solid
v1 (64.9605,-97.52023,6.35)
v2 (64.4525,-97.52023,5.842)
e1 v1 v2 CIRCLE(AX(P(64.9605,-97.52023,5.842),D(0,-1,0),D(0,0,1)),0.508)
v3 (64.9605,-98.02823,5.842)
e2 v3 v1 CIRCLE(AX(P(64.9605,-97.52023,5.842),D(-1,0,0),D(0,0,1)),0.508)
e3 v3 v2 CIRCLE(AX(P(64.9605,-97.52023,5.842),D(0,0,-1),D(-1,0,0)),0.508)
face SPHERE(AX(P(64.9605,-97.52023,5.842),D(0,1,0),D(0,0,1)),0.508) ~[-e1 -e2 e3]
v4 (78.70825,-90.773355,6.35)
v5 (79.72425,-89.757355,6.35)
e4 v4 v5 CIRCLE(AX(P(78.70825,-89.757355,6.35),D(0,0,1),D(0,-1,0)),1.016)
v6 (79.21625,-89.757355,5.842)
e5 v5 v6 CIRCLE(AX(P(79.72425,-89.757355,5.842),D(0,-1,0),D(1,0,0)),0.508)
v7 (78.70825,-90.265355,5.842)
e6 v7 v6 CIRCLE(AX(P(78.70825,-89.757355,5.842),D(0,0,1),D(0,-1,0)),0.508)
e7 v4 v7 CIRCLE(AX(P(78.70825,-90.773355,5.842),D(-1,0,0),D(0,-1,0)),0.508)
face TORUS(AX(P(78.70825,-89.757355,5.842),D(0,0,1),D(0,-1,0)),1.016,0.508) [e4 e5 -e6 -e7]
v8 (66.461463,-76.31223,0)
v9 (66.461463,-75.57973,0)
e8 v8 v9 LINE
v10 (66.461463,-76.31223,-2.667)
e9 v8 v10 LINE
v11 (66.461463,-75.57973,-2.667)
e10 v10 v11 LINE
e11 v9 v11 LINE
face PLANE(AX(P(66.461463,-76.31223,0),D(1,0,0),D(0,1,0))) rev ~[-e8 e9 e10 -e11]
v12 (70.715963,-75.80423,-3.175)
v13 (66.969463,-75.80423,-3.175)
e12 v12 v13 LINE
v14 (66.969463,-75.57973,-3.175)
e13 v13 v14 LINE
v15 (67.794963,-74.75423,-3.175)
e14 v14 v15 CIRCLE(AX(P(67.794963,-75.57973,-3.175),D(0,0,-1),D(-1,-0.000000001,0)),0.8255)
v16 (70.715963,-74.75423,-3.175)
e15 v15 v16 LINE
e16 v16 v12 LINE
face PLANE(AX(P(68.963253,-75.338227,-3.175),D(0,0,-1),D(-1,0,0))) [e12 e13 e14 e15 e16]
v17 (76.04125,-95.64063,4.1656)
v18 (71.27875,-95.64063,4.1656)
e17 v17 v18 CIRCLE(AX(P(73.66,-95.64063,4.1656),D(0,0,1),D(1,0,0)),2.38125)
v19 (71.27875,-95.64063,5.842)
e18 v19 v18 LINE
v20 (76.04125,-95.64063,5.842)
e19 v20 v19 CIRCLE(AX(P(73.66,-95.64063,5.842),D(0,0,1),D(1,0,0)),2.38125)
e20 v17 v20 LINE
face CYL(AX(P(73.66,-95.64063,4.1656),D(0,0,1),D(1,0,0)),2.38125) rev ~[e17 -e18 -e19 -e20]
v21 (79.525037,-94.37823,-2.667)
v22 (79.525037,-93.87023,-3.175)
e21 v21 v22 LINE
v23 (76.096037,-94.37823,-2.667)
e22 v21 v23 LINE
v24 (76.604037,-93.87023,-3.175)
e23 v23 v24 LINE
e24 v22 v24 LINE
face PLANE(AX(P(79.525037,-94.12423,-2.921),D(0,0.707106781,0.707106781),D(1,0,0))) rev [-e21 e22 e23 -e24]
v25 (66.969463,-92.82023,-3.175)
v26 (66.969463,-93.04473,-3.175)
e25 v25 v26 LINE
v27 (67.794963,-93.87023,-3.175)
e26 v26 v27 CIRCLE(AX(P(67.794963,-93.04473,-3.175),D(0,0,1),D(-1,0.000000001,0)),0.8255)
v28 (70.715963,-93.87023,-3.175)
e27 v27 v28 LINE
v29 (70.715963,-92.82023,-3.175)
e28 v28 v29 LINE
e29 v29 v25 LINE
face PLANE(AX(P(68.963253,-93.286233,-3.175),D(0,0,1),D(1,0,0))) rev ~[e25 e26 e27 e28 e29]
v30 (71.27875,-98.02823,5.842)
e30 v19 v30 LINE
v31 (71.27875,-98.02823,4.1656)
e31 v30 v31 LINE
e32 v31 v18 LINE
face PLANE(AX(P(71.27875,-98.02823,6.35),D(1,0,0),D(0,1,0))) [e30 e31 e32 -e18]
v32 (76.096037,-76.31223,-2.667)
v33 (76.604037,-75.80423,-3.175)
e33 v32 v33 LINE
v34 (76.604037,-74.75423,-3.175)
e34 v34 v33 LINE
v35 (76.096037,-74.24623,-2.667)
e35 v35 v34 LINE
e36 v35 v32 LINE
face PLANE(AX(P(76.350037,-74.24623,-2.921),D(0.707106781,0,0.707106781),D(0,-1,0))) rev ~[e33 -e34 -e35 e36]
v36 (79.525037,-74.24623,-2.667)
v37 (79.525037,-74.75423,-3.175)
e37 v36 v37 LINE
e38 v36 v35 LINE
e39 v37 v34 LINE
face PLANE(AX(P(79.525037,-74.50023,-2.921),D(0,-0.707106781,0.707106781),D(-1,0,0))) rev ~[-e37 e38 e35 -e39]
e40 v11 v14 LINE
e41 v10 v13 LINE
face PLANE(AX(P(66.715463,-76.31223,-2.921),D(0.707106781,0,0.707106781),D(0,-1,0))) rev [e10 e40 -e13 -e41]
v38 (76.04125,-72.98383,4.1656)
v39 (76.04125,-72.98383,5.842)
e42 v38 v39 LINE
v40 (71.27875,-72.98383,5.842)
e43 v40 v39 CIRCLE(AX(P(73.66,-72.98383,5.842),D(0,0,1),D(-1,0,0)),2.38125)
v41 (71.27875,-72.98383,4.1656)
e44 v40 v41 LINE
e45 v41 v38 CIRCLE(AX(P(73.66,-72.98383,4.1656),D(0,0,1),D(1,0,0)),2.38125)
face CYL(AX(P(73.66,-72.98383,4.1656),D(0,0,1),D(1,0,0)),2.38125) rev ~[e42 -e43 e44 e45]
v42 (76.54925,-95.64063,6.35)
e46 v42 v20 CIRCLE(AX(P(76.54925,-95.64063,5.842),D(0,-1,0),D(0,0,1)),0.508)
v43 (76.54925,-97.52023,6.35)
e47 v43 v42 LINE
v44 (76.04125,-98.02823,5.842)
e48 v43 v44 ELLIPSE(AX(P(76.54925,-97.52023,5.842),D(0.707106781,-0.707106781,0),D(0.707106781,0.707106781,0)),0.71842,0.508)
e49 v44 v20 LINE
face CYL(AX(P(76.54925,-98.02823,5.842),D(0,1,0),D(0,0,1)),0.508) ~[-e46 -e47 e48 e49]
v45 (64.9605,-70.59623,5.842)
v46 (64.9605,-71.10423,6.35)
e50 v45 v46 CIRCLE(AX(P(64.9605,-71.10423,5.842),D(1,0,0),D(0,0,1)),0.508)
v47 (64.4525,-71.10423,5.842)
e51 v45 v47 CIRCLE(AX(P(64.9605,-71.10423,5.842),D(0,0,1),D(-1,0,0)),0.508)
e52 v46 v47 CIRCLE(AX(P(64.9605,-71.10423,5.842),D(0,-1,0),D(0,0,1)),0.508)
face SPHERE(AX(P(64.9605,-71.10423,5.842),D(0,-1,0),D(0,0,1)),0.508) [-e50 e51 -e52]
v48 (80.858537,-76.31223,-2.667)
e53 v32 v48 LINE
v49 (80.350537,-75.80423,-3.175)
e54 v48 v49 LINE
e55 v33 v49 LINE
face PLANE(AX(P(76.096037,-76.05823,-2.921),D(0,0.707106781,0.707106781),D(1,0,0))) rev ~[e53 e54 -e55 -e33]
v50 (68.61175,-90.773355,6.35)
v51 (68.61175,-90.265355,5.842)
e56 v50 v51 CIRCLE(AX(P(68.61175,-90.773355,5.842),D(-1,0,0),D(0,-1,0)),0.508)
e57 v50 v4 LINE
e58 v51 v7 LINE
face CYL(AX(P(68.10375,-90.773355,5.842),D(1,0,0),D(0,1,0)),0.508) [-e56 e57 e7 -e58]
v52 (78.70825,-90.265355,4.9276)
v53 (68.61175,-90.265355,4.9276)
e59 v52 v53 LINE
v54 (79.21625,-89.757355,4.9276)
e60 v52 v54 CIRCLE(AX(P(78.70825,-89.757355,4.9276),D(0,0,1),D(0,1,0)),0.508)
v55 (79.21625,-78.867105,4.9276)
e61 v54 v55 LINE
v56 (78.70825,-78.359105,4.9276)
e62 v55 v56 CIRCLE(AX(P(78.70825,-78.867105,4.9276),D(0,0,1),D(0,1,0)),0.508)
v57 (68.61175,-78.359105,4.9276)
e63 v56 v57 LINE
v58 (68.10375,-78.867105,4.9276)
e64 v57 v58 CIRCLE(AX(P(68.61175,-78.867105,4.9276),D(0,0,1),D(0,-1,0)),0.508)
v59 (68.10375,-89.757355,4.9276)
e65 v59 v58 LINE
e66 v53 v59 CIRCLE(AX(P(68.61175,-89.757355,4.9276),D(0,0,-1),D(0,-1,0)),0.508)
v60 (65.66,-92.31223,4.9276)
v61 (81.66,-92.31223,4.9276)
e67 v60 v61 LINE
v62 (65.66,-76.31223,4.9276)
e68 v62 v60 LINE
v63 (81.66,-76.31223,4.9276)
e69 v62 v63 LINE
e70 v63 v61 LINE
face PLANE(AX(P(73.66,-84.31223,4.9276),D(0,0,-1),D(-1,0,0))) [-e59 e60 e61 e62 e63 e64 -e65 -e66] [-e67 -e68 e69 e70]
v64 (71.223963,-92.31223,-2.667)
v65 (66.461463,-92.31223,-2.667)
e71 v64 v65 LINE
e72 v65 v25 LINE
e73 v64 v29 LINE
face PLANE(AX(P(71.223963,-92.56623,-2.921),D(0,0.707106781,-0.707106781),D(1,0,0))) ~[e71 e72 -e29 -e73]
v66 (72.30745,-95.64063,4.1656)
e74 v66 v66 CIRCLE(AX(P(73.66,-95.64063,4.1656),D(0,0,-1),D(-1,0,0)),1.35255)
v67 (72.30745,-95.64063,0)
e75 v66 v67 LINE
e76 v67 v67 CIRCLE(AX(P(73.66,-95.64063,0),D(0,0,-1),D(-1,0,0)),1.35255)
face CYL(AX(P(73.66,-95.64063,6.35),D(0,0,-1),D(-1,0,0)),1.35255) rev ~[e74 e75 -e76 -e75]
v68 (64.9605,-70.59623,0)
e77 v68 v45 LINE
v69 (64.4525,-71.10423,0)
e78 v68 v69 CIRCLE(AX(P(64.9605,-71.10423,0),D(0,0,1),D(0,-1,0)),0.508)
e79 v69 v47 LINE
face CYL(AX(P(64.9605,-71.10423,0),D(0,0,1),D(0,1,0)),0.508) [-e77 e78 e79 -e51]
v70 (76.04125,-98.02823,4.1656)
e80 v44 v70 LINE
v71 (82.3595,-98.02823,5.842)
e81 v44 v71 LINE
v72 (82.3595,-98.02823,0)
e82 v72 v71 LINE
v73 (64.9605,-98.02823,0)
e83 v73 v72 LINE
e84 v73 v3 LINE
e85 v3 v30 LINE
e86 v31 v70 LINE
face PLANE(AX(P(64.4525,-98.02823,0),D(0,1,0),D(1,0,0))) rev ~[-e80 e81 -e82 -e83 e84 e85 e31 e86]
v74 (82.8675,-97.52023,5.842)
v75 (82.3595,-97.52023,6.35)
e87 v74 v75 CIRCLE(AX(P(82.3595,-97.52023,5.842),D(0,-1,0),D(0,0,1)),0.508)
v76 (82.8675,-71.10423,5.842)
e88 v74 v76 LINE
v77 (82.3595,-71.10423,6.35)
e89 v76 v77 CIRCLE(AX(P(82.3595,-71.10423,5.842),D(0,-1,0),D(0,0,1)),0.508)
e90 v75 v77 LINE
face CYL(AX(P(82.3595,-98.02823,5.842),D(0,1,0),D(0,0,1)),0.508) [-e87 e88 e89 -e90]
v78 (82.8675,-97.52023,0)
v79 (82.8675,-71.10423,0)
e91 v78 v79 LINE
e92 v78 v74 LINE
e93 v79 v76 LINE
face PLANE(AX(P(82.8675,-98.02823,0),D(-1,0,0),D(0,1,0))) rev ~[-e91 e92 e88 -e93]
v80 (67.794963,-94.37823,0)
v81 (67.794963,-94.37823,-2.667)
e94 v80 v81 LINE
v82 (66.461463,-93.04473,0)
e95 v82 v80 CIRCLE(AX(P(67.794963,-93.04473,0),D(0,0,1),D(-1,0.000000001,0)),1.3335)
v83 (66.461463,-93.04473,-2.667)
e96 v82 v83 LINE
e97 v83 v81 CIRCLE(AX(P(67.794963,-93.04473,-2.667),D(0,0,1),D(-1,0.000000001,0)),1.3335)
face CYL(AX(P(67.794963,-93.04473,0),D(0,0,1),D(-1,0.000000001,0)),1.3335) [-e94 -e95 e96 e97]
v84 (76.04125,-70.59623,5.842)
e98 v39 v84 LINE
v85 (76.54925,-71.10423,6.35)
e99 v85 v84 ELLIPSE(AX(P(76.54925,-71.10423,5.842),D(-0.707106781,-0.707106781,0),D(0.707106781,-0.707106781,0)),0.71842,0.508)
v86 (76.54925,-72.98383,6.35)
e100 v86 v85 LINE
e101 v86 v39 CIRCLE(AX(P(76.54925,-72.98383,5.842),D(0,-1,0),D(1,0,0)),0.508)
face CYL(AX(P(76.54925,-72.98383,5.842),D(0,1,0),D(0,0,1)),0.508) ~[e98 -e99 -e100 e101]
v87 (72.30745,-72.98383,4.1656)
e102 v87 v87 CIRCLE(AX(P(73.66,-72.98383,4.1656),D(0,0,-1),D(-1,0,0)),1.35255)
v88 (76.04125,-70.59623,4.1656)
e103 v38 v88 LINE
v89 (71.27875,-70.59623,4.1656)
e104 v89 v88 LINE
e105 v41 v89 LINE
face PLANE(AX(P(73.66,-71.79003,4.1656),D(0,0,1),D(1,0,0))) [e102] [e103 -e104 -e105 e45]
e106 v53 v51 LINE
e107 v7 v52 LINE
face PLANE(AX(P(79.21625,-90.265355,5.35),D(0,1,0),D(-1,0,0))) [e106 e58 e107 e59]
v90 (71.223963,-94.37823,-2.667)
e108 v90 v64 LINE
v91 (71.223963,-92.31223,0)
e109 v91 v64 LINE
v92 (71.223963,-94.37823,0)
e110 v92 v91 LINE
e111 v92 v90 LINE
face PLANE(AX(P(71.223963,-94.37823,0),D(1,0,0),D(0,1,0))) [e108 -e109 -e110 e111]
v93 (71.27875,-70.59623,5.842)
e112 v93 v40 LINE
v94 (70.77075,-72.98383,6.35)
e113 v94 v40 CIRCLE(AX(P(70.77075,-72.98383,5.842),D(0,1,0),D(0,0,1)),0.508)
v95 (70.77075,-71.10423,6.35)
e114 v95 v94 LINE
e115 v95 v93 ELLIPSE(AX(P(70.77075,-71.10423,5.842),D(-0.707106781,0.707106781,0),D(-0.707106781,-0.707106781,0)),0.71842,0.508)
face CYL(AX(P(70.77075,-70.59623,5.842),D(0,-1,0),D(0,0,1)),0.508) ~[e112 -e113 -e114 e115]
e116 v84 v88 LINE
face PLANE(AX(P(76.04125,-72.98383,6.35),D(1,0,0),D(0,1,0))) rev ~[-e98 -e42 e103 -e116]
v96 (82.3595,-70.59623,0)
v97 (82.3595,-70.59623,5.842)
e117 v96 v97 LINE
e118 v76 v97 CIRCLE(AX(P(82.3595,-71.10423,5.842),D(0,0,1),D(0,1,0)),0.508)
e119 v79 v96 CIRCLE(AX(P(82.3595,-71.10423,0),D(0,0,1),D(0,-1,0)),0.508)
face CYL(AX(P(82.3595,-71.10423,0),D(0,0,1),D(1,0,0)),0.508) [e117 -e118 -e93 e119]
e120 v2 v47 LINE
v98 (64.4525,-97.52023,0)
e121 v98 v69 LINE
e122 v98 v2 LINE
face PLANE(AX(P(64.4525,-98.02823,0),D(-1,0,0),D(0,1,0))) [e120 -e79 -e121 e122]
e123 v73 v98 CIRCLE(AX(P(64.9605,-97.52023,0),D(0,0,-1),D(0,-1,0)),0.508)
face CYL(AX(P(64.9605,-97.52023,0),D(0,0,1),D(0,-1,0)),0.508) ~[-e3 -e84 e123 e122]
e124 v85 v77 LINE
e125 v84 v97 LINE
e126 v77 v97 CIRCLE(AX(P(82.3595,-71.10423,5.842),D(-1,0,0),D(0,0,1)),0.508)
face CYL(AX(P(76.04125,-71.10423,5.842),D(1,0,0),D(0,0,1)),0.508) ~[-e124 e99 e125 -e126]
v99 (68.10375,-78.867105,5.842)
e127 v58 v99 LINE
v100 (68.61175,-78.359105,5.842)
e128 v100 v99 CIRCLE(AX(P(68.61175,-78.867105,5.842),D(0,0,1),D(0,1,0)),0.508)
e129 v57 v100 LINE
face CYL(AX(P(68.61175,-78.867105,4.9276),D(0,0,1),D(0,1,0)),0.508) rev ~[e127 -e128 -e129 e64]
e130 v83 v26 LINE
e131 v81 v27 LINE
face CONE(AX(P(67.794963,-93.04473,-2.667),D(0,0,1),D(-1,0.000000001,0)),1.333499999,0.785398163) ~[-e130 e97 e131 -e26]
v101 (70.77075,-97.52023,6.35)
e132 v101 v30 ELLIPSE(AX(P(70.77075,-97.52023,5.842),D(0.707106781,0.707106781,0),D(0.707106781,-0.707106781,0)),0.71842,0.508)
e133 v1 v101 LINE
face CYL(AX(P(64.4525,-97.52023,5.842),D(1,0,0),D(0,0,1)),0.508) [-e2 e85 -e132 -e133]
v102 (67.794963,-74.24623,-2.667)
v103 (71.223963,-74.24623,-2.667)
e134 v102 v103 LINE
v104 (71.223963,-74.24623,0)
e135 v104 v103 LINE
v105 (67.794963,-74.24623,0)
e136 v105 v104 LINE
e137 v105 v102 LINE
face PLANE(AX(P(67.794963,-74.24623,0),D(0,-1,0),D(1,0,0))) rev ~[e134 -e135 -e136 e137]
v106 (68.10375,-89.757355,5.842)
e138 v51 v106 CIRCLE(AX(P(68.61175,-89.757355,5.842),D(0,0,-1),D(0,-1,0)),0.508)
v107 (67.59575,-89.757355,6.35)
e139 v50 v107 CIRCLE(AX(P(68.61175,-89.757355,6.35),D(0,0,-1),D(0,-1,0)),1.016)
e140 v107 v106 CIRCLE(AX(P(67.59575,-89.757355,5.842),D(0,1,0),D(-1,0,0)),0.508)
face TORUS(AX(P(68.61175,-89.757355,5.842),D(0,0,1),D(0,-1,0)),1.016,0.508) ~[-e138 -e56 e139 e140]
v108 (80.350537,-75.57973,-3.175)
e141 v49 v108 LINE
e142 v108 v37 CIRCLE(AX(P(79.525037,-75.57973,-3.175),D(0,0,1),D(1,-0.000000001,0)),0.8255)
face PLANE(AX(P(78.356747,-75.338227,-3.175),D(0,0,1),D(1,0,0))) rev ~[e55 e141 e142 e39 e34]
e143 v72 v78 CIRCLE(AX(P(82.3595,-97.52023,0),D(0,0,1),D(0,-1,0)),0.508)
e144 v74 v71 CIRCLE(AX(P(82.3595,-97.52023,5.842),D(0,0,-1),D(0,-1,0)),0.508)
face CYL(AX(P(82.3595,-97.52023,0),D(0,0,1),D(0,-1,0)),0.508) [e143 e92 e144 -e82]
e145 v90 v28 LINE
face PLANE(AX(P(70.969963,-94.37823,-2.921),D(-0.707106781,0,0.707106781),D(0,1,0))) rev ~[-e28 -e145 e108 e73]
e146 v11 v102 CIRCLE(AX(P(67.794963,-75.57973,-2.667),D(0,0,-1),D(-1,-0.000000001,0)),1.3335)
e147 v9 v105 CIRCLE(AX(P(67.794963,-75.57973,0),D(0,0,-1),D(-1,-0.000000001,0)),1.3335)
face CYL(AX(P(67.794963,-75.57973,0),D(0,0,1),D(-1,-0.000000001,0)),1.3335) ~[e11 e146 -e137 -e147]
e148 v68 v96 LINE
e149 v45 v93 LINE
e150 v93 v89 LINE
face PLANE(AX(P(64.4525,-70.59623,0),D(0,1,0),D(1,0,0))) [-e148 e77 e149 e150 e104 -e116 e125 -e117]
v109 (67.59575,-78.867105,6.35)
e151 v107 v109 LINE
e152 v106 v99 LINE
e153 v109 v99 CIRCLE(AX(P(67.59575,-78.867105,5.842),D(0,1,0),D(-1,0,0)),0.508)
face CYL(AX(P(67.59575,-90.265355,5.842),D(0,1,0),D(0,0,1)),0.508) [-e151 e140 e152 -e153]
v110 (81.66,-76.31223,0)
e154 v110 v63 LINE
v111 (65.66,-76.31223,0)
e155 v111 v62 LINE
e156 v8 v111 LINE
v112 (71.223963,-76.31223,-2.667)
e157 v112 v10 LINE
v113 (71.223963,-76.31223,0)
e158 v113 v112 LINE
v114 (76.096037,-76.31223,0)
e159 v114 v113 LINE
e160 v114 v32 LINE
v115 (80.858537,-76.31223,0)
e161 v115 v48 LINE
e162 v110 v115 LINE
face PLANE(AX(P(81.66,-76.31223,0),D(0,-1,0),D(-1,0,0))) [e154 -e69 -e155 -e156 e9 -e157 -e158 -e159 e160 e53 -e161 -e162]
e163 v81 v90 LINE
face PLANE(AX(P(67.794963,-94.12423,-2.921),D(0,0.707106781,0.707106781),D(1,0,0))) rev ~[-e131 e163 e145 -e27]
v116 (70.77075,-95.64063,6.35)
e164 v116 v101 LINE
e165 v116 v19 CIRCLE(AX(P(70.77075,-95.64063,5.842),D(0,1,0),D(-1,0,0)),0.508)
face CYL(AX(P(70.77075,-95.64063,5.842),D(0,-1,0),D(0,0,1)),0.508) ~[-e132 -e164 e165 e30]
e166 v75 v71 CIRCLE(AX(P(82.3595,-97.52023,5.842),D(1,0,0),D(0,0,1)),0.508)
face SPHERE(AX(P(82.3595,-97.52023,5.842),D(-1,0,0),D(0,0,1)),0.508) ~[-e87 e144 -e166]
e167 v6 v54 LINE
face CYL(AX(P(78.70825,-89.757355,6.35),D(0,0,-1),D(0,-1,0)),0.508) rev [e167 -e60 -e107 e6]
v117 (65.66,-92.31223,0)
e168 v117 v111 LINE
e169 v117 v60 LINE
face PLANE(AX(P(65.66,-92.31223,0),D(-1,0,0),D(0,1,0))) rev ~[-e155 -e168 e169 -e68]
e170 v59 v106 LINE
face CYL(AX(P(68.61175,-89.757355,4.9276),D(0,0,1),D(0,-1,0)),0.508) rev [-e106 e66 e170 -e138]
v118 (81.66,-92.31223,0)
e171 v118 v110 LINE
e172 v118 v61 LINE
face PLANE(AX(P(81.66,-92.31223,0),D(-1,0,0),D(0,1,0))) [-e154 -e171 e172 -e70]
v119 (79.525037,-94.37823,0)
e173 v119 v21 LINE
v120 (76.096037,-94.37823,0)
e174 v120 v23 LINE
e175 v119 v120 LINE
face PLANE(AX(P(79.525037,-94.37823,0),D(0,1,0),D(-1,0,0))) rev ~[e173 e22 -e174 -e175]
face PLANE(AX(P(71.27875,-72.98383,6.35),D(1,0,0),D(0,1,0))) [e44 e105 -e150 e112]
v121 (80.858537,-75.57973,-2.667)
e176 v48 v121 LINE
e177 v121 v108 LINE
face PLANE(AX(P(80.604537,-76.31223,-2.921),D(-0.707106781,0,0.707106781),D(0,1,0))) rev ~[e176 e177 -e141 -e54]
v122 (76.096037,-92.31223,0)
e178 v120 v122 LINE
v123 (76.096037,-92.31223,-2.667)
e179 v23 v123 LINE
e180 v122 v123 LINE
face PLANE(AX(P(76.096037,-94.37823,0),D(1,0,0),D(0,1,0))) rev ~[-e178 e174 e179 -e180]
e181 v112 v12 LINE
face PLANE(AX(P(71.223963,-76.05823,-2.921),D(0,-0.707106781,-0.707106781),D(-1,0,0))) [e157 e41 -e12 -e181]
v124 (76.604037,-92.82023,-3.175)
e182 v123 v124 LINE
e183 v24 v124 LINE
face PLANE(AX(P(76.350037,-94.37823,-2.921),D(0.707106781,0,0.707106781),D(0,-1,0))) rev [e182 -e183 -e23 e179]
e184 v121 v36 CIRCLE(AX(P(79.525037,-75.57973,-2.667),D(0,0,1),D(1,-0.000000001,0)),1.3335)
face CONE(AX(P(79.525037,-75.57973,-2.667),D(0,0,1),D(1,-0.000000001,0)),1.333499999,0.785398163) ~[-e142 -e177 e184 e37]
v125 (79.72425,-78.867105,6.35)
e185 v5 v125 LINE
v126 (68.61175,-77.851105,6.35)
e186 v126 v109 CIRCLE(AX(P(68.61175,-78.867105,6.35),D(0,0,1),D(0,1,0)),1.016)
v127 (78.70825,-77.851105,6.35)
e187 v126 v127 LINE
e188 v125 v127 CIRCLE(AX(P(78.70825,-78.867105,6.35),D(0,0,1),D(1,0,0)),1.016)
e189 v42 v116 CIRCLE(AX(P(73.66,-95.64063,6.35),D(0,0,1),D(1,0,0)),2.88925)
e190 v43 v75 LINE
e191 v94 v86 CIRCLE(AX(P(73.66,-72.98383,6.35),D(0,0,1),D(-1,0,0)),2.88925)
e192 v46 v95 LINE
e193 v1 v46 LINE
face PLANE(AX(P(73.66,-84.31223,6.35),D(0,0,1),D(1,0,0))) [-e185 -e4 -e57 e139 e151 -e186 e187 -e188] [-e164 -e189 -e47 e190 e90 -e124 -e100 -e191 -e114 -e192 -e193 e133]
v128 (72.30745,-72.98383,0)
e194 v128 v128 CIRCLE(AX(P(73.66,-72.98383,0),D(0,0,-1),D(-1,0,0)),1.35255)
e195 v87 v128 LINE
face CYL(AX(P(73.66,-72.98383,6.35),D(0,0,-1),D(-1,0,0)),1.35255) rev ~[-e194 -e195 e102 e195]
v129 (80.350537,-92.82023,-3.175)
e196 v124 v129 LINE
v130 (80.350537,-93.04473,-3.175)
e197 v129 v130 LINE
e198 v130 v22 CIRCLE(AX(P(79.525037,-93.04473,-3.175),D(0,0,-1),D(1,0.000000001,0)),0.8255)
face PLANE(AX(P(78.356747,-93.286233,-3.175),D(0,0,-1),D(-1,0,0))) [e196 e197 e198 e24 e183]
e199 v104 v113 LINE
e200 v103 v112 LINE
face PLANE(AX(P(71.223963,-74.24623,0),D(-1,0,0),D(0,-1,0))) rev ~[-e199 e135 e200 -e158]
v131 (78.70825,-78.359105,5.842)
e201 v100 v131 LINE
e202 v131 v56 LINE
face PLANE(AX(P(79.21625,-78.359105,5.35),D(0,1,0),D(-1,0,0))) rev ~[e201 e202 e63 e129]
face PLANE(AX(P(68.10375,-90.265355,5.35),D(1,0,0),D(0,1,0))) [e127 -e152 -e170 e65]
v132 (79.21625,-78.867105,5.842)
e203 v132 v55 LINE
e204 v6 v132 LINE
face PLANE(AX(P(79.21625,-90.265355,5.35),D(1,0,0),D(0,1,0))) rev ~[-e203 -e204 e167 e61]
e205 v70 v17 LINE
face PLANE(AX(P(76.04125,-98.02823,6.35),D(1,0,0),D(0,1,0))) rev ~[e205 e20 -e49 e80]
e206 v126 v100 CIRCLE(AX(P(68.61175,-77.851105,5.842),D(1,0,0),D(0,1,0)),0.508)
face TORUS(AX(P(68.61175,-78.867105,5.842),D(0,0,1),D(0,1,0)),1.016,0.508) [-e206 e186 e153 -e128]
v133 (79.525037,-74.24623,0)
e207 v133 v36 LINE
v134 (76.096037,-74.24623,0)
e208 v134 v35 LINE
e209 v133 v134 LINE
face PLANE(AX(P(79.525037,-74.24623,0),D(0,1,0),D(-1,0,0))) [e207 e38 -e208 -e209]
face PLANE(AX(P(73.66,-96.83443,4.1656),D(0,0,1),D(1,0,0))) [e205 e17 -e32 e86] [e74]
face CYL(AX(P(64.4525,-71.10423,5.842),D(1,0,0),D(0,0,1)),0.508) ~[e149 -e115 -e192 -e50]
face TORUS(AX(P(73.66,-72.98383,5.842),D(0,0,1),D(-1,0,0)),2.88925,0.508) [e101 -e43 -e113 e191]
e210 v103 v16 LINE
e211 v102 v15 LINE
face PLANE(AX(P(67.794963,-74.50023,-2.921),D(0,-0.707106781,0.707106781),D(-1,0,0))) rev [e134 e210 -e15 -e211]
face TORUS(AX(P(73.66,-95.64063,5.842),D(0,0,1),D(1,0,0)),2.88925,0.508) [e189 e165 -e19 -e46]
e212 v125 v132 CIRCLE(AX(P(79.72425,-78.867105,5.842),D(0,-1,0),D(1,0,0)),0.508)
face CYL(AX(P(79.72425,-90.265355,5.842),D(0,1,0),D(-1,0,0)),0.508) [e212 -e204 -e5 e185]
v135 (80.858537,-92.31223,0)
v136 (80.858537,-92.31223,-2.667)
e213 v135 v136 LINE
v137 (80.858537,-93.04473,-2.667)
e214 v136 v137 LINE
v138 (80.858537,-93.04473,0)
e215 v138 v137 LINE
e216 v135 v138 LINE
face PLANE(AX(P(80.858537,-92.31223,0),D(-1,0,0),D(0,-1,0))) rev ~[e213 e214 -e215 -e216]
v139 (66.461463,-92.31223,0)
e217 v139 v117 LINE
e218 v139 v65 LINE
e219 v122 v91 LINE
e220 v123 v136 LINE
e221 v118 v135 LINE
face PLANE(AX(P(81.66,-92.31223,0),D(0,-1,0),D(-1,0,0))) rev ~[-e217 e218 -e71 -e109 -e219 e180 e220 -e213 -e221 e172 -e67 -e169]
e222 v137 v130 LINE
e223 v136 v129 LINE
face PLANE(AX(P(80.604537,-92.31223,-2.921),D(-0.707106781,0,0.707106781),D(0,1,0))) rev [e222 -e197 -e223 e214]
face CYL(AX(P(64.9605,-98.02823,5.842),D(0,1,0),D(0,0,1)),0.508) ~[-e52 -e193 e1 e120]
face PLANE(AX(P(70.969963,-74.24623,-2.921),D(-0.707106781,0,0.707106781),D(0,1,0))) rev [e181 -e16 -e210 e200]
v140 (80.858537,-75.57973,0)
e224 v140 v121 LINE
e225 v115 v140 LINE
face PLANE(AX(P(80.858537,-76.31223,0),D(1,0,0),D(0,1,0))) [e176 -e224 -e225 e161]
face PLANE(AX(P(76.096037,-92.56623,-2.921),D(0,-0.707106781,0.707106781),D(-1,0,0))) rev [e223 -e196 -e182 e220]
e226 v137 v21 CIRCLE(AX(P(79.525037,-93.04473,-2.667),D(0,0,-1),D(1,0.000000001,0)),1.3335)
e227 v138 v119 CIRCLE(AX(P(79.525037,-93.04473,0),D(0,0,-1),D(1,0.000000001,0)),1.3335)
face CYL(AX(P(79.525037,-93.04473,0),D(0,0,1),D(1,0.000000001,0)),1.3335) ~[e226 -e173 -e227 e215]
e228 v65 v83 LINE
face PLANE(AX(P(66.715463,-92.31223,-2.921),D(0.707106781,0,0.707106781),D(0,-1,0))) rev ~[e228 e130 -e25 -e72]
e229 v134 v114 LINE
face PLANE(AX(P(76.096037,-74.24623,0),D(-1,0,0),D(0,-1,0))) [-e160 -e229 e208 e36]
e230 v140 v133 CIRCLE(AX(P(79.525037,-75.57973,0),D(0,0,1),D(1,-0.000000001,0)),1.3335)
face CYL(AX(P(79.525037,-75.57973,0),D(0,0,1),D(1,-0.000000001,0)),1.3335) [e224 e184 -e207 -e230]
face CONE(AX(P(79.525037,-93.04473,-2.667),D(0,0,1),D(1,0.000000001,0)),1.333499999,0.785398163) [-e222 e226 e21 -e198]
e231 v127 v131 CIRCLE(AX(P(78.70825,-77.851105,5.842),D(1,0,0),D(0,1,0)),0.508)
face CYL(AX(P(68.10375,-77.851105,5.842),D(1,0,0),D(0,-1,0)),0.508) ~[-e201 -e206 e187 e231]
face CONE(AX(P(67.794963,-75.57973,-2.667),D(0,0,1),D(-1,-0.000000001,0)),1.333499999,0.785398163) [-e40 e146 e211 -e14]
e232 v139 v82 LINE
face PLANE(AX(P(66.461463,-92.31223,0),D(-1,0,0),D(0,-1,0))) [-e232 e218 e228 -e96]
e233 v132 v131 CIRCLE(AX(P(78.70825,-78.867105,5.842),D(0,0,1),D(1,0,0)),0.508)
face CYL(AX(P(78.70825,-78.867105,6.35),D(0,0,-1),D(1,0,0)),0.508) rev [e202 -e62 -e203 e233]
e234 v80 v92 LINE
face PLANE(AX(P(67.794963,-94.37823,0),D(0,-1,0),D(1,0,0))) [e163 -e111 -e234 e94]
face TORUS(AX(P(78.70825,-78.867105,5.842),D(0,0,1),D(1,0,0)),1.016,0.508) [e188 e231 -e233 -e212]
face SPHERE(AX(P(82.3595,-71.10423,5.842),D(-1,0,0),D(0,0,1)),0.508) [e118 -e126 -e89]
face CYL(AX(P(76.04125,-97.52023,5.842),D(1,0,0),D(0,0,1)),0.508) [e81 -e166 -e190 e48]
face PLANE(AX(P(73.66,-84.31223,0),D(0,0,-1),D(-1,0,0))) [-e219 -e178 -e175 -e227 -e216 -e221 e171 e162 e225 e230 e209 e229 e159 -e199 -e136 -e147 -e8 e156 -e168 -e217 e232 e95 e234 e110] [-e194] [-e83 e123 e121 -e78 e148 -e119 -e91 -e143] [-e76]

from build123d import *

# Parameters (mm, degrees)
SKETCH1_W                                      = 18.415
SKETCH1_H                                      = 27.432
BOSS_EXTRUDE1_DEPTH                            = 6.35
SKETCH2_W                                      = 11.1125
SKETCH2_H                                      = 11.90625
CUT_EXTRUDE1_DEPTH                             = 7.35
SHELL1_T                                       = -1
BOSS_EXTRUDE2_REACH                            = 8.35
SKETCH5_W                                      = 5.7752
SKETCH5_H                                      = 5.7752
CBORE_FOR_2_SOCKET_HEAD_CAP_SCREW2_D           = 2.7051
CBORE_FOR_2_SOCKET_HEAD_CAP_SCREW2_CBORE_D     = 4.7625
CBORE_FOR_2_SOCKET_HEAD_CAP_SCREW2_CBORE_DEPTH = 2.1844
CUT_EXTRUDE2_DEPTH                             = 4.9276
SKETCH7_W                                      = 11.1125
SKETCH7_H                                      = 11.90625
BOSS_EXTRUDE4_DEPTH                            = 0.4224
SKETCH8_W                                      = 4.7625
SKETCH8_H                                      = 2.3876
CUT_EXTRUDE3_DEPTH                             = 2.1844
FILLET1_R                                      = 0.508
BOSS_EXTRUDE5_REACH                            = 8.35
SKETCH10_W                                     = 16
SKETCH10_H                                     = 16
BOSS_EXTRUDE6_DEPTH                            = 3.175
CHAMFER1_SIZE                                  = 0.508


with BuildPart() as part:
    # Sketch1 → Boss-Extrude1 (new body)
    with BuildSketch(Plane.XY):
        with Locations((73.66, -84.3122297)):
            Rectangle(SKETCH1_W, SKETCH1_H)
    extrude(amount=BOSS_EXTRUDE1_DEPTH)

    # Sketch2 → Cut-Extrude1 (cut, through all)
    with BuildSketch(Plane.XY.offset(6.35)):
        with Locations((73.66, -84.3122297)):
            Rectangle(SKETCH2_W, SKETCH2_H)
    extrude(amount=-CUT_EXTRUDE1_DEPTH, mode=Mode.SUBTRACT)

    # Shell1
    shell1_openings = [part.faces().sort_by_distance(p)[0] for p in [
        (73.66, -90.2653547, 3.175),
        (68.10375, -84.3122297, 3.175),
        (73.66, -78.3591047, 3.175),
        (79.21625, -84.3122297, 3.175),
        (73.66, -84.3122297, 0),
    ]]
    offset(amount=SHELL1_T, openings=shell1_openings, kind=Kind.INTERSECTION)

    # Sketch5 → Boss-Extrude2 (add, up to next)
    with BuildSketch(Plane(origin=(0, 0, 0), x_dir=(-1, 0, 0), z_dir=(0, 0, -1)), mode=Mode.PRIVATE) as boss_extrude2_sk1:
        with Locations((-73.66, -73.4838297)):
            Rectangle(SKETCH5_W, SKETCH5_H)
    boss_extrude2_tool1 = extrude(boss_extrude2_sk1.sketch, amount=-BOSS_EXTRUDE2_REACH, mode=Mode.PRIVATE) - part.part
    add(boss_extrude2_tool1.solids().sort_by_distance((73.66, -73.48383, 0))[0])
    # Sketch5 → Boss-Extrude2 (add, up to next)
    with BuildSketch(Plane(origin=(0, 0, 0), x_dir=(-1, 0, 0), z_dir=(0, 0, -1)), mode=Mode.PRIVATE) as boss_extrude2_sk2:
        with Locations((-73.66, -95.1406297)):
            Rectangle(SKETCH5_W, SKETCH5_H)
    boss_extrude2_tool2 = extrude(boss_extrude2_sk2.sketch, amount=-BOSS_EXTRUDE2_REACH, mode=Mode.PRIVATE) - part.part
    add(boss_extrude2_tool2.solids().sort_by_distance((73.66, -95.14063, 0))[0])

    # CBORE for #2 Socket Head Cap Screw2 (through all)
    with Locations(Plane.XY.offset(6.35)):
        with Locations((73.66, -95.6406297), (73.66, -72.9838297)):
            CounterBoreHole(CBORE_FOR_2_SOCKET_HEAD_CAP_SCREW2_D / 2, CBORE_FOR_2_SOCKET_HEAD_CAP_SCREW2_CBORE_D / 2, CBORE_FOR_2_SOCKET_HEAD_CAP_SCREW2_CBORE_DEPTH)

    # Sketch6 → Cut-Extrude2 (cut)
    with BuildSketch(Plane(origin=(0, 0, 0), x_dir=(-1, 0, 0), z_dir=(0, 0, -1))):
        with BuildLine():
            Line((-76.5476, -95.6406297), (-76.8016, -95.6406297))
            Line((-76.8016, -95.6406297), (-76.8016, -92.2530297))
            Line((-76.8016, -92.2530297), (-70.5184, -92.2530297))
            Line((-70.5184, -92.2530297), (-70.5184, -95.6406297))
            Line((-70.5184, -95.6406297), (-70.7724, -95.6406297))
            ThreePointArc((-70.7724, -95.6406297), (-73.66, -92.7530297), (-76.5476, -95.6406297))
        make_face()
        with BuildLine():
            Line((-76.8016, -72.9838297), (-76.8016, -76.3714297))
            Line((-76.8016, -76.3714297), (-70.5184, -76.3714297))
            Line((-70.5184, -76.3714297), (-70.5184, -72.9838297))
            Line((-70.5184, -72.9838297), (-70.7724, -72.9838297))
            ThreePointArc((-70.7724, -72.9838297), (-73.66, -75.8714297), (-76.5476, -72.9838297))
            Line((-76.5476, -72.9838297), (-76.8016, -72.9838297))
        make_face()
    extrude(amount=-CUT_EXTRUDE2_DEPTH, mode=Mode.SUBTRACT)

    # Sketch7 → Boss-Extrude4 (add)
    with BuildSketch(Plane(origin=(0, 0, 5.35), x_dir=(-1, 0, 0), z_dir=(0, 0, -1))):
        Polygon((-70.7724, -76.3714297), (-76.5476, -76.3714297), (-76.5476, -71.5962297), (-81.8675, -71.5962297), (-81.8675, -97.0282297), (-76.5476, -97.0282297), (-76.5476, -92.2530297), (-70.7724, -92.2530297), (-70.7724, -97.0282297), (-65.4525, -97.0282297), (-65.4525, -71.5962297), (-70.7724, -71.5962297), align=None)
        with Locations((-73.66, -84.3122297)):
            Rectangle(SKETCH7_W, SKETCH7_H, mode=Mode.SUBTRACT)
    extrude(amount=BOSS_EXTRUDE4_DEPTH)

    # Sketch8 → Cut-Extrude3 (cut)
    with BuildSketch(Plane.XY.offset(6.35)):
        with Locations((73.66, -96.8344297)):
            Rectangle(SKETCH8_W, SKETCH8_H)
        with Locations((73.66, -71.7900297)):
            Rectangle(SKETCH8_W, SKETCH8_H)
    extrude(amount=-CUT_EXTRUDE3_DEPTH, mode=Mode.SUBTRACT)

    # Fillet1
    fillet1_edges = [part.edges().sort_by_distance(p)[0] for p in [
        (79.454375, -70.5962297, 6.35),
        (73.66, -93.2593797, 6.35),
        (64.4525, -84.3122297, 6.35),
        (79.21625, -90.2653547, 5.6388),
        (68.10375, -90.2653547, 5.6388),
        (68.10375, -78.3591047, 5.6388),
        (79.21625, -78.3591047, 5.6388),
        (73.66, -90.2653547, 6.35),
        (79.21625, -84.3122297, 6.35),
        (73.66, -78.3591047, 6.35),
        (68.10375, -84.3122297, 6.35),
        (79.454375, -98.0282297, 6.35),
        (76.04125, -96.8344297, 6.35),
        (71.27875, -96.8344297, 6.35),
        (73.66, -75.3650797, 6.35),
        (67.865625, -70.5962297, 6.35),
        (71.27875, -71.7900297, 6.35),
        (76.04125, -71.7900297, 6.35),
        (67.865625, -98.0282297, 6.35),
        (82.8675, -84.3122297, 6.35),
        (64.4525, -98.0282297, 3.175),
        (64.4525, -70.5962297, 3.175),
        (82.8675, -70.5962297, 3.175),
        (82.8675, -98.0282297, 3.175),
    ]]
    fillet(fillet1_edges, radius=FILLET1_R)

    # Sketch10 → Boss-Extrude5 (add, up to next)
    with BuildSketch(Plane(origin=(0, 0, 0), x_dir=(-1, 0, 0), z_dir=(0, 0, -1)), mode=Mode.PRIVATE) as boss_extrude5_sk1:
        with BuildLine():
            Line((-76.5476, -97.0282297), (-76.5476, -95.6406297))
            ThreePointArc((-76.5476, -95.6406297), (-73.66, -92.7530297), (-70.7724, -95.6406297))
            Line((-70.7724, -95.6406297), (-70.7724, -97.0282297))
            Line((-70.7724, -97.0282297), (-65.4525, -97.0282297))
            Line((-65.4525, -97.0282297), (-65.4525, -71.5962297))
            Line((-65.4525, -71.5962297), (-70.7724, -71.5962297))
            Line((-70.7724, -71.5962297), (-70.7724, -72.9838297))
            ThreePointArc((-70.7724, -72.9838297), (-73.66, -75.8714297), (-76.5476, -72.9838297))
            Line((-76.5476, -72.9838297), (-76.5476, -71.5962297))
            Line((-76.5476, -71.5962297), (-81.8675, -71.5962297))
            Line((-81.8675, -71.5962297), (-81.8675, -97.0282297))
            Line((-81.8675, -97.0282297), (-76.5476, -97.0282297))
        make_face()
        with Locations((-73.66, -84.3122297)):
            Rectangle(SKETCH10_W, SKETCH10_H, mode=Mode.SUBTRACT)
    boss_extrude5_tool1 = extrude(boss_extrude5_sk1.sketch, amount=-BOSS_EXTRUDE5_REACH, mode=Mode.PRIVATE) - part.part
    add(boss_extrude5_tool1.solids().sort_by_distance((76.850294, -72.29003, 0))[0])

    # Sketch11 → Boss-Extrude6 (add)
    with BuildSketch(Plane(origin=(0, 0, 0), x_dir=(-1, 0, 0), z_dir=(0, 0, -1))):
        with BuildLine():
            Line((-66.461462743, -92.3122297), (-66.461462743, -93.0447297))
            ThreePointArc((-66.461462743, -93.0447297), (-66.85203585, -93.987656593), (-67.794962743, -94.3782297))
            Line((-67.794962743, -94.3782297), (-71.223962743, -94.3782297))
            Line((-71.223962743, -94.3782297), (-71.223962743, -92.3122297))
            Line((-71.223962743, -92.3122297), (-66.461462743, -92.3122297))
        make_face()
        with BuildLine():
            Line((-76.096037257, -92.3122297), (-80.858537257, -92.3122297))
            Line((-80.858537257, -92.3122297), (-80.858537257, -93.0447297))
            ThreePointArc((-80.858537257, -93.0447297), (-80.46796415, -93.987656593), (-79.525037257, -94.3782297))
            Line((-79.525037257, -94.3782297), (-76.096037257, -94.3782297))
            Line((-76.096037257, -94.3782297), (-76.096037257, -92.3122297))
        make_face()
        with BuildLine():
            Line((-80.858537257, -76.3122297), (-80.858537257, -75.5797297))
            ThreePointArc((-80.858537257, -75.5797297), (-80.46796415, -74.636802807), (-79.525037257, -74.2462297))
            Line((-79.525037257, -74.2462297), (-76.096037257, -74.2462297))
            Line((-76.096037257, -74.2462297), (-76.096037257, -76.3122297))
            Line((-76.096037257, -76.3122297), (-80.858537257, -76.3122297))
        make_face()
        with BuildLine():
            Line((-71.223962743, -76.3122297), (-66.461462743, -76.3122297))
            Line((-66.461462743, -76.3122297), (-66.461462743, -75.5797297))
            ThreePointArc((-66.461462743, -75.5797297), (-66.85203585, -74.636802807), (-67.794962743, -74.2462297))
            Line((-67.794962743, -74.2462297), (-71.223962743, -74.2462297))
            Line((-71.223962743, -74.2462297), (-71.223962743, -76.3122297))
        make_face()
    extrude(amount=BOSS_EXTRUDE6_DEPTH)

    # Chamfer1
    chamfer1_edges = [part.edges().sort_by_distance(p)[0] for p in [
        (68.842712743, -92.3122297, -3.175),
        (71.223962743, -93.3452297, -3.175),
        (69.509462743, -94.3782297, -3.175),
        (66.85203585, -93.987656593, -3.175),
        (66.461462743, -92.6784797, -3.175),
        (80.858537257, -92.6784797, -3.175),
        (80.46796415, -93.987656593, -3.175),
        (77.810537257, -94.3782297, -3.175),
        (76.096037257, -93.3452297, -3.175),
        (78.477287257, -92.3122297, -3.175),
        (80.46796415, -74.636802807, -3.175),
        (80.858537257, -75.9459797, -3.175),
        (78.477287257, -76.3122297, -3.175),
        (76.096037257, -75.2792297, -3.175),
        (77.810537257, -74.2462297, -3.175),
        (66.461462743, -75.9459797, -3.175),
        (66.85203585, -74.636802807, -3.175),
        (69.509462743, -74.2462297, -3.175),
        (71.223962743, -75.2792297, -3.175),
        (68.842712743, -76.3122297, -3.175),
    ]]
    chamfer(chamfer1_edges, length=CHAMFER1_SIZE)


solid = part.part
